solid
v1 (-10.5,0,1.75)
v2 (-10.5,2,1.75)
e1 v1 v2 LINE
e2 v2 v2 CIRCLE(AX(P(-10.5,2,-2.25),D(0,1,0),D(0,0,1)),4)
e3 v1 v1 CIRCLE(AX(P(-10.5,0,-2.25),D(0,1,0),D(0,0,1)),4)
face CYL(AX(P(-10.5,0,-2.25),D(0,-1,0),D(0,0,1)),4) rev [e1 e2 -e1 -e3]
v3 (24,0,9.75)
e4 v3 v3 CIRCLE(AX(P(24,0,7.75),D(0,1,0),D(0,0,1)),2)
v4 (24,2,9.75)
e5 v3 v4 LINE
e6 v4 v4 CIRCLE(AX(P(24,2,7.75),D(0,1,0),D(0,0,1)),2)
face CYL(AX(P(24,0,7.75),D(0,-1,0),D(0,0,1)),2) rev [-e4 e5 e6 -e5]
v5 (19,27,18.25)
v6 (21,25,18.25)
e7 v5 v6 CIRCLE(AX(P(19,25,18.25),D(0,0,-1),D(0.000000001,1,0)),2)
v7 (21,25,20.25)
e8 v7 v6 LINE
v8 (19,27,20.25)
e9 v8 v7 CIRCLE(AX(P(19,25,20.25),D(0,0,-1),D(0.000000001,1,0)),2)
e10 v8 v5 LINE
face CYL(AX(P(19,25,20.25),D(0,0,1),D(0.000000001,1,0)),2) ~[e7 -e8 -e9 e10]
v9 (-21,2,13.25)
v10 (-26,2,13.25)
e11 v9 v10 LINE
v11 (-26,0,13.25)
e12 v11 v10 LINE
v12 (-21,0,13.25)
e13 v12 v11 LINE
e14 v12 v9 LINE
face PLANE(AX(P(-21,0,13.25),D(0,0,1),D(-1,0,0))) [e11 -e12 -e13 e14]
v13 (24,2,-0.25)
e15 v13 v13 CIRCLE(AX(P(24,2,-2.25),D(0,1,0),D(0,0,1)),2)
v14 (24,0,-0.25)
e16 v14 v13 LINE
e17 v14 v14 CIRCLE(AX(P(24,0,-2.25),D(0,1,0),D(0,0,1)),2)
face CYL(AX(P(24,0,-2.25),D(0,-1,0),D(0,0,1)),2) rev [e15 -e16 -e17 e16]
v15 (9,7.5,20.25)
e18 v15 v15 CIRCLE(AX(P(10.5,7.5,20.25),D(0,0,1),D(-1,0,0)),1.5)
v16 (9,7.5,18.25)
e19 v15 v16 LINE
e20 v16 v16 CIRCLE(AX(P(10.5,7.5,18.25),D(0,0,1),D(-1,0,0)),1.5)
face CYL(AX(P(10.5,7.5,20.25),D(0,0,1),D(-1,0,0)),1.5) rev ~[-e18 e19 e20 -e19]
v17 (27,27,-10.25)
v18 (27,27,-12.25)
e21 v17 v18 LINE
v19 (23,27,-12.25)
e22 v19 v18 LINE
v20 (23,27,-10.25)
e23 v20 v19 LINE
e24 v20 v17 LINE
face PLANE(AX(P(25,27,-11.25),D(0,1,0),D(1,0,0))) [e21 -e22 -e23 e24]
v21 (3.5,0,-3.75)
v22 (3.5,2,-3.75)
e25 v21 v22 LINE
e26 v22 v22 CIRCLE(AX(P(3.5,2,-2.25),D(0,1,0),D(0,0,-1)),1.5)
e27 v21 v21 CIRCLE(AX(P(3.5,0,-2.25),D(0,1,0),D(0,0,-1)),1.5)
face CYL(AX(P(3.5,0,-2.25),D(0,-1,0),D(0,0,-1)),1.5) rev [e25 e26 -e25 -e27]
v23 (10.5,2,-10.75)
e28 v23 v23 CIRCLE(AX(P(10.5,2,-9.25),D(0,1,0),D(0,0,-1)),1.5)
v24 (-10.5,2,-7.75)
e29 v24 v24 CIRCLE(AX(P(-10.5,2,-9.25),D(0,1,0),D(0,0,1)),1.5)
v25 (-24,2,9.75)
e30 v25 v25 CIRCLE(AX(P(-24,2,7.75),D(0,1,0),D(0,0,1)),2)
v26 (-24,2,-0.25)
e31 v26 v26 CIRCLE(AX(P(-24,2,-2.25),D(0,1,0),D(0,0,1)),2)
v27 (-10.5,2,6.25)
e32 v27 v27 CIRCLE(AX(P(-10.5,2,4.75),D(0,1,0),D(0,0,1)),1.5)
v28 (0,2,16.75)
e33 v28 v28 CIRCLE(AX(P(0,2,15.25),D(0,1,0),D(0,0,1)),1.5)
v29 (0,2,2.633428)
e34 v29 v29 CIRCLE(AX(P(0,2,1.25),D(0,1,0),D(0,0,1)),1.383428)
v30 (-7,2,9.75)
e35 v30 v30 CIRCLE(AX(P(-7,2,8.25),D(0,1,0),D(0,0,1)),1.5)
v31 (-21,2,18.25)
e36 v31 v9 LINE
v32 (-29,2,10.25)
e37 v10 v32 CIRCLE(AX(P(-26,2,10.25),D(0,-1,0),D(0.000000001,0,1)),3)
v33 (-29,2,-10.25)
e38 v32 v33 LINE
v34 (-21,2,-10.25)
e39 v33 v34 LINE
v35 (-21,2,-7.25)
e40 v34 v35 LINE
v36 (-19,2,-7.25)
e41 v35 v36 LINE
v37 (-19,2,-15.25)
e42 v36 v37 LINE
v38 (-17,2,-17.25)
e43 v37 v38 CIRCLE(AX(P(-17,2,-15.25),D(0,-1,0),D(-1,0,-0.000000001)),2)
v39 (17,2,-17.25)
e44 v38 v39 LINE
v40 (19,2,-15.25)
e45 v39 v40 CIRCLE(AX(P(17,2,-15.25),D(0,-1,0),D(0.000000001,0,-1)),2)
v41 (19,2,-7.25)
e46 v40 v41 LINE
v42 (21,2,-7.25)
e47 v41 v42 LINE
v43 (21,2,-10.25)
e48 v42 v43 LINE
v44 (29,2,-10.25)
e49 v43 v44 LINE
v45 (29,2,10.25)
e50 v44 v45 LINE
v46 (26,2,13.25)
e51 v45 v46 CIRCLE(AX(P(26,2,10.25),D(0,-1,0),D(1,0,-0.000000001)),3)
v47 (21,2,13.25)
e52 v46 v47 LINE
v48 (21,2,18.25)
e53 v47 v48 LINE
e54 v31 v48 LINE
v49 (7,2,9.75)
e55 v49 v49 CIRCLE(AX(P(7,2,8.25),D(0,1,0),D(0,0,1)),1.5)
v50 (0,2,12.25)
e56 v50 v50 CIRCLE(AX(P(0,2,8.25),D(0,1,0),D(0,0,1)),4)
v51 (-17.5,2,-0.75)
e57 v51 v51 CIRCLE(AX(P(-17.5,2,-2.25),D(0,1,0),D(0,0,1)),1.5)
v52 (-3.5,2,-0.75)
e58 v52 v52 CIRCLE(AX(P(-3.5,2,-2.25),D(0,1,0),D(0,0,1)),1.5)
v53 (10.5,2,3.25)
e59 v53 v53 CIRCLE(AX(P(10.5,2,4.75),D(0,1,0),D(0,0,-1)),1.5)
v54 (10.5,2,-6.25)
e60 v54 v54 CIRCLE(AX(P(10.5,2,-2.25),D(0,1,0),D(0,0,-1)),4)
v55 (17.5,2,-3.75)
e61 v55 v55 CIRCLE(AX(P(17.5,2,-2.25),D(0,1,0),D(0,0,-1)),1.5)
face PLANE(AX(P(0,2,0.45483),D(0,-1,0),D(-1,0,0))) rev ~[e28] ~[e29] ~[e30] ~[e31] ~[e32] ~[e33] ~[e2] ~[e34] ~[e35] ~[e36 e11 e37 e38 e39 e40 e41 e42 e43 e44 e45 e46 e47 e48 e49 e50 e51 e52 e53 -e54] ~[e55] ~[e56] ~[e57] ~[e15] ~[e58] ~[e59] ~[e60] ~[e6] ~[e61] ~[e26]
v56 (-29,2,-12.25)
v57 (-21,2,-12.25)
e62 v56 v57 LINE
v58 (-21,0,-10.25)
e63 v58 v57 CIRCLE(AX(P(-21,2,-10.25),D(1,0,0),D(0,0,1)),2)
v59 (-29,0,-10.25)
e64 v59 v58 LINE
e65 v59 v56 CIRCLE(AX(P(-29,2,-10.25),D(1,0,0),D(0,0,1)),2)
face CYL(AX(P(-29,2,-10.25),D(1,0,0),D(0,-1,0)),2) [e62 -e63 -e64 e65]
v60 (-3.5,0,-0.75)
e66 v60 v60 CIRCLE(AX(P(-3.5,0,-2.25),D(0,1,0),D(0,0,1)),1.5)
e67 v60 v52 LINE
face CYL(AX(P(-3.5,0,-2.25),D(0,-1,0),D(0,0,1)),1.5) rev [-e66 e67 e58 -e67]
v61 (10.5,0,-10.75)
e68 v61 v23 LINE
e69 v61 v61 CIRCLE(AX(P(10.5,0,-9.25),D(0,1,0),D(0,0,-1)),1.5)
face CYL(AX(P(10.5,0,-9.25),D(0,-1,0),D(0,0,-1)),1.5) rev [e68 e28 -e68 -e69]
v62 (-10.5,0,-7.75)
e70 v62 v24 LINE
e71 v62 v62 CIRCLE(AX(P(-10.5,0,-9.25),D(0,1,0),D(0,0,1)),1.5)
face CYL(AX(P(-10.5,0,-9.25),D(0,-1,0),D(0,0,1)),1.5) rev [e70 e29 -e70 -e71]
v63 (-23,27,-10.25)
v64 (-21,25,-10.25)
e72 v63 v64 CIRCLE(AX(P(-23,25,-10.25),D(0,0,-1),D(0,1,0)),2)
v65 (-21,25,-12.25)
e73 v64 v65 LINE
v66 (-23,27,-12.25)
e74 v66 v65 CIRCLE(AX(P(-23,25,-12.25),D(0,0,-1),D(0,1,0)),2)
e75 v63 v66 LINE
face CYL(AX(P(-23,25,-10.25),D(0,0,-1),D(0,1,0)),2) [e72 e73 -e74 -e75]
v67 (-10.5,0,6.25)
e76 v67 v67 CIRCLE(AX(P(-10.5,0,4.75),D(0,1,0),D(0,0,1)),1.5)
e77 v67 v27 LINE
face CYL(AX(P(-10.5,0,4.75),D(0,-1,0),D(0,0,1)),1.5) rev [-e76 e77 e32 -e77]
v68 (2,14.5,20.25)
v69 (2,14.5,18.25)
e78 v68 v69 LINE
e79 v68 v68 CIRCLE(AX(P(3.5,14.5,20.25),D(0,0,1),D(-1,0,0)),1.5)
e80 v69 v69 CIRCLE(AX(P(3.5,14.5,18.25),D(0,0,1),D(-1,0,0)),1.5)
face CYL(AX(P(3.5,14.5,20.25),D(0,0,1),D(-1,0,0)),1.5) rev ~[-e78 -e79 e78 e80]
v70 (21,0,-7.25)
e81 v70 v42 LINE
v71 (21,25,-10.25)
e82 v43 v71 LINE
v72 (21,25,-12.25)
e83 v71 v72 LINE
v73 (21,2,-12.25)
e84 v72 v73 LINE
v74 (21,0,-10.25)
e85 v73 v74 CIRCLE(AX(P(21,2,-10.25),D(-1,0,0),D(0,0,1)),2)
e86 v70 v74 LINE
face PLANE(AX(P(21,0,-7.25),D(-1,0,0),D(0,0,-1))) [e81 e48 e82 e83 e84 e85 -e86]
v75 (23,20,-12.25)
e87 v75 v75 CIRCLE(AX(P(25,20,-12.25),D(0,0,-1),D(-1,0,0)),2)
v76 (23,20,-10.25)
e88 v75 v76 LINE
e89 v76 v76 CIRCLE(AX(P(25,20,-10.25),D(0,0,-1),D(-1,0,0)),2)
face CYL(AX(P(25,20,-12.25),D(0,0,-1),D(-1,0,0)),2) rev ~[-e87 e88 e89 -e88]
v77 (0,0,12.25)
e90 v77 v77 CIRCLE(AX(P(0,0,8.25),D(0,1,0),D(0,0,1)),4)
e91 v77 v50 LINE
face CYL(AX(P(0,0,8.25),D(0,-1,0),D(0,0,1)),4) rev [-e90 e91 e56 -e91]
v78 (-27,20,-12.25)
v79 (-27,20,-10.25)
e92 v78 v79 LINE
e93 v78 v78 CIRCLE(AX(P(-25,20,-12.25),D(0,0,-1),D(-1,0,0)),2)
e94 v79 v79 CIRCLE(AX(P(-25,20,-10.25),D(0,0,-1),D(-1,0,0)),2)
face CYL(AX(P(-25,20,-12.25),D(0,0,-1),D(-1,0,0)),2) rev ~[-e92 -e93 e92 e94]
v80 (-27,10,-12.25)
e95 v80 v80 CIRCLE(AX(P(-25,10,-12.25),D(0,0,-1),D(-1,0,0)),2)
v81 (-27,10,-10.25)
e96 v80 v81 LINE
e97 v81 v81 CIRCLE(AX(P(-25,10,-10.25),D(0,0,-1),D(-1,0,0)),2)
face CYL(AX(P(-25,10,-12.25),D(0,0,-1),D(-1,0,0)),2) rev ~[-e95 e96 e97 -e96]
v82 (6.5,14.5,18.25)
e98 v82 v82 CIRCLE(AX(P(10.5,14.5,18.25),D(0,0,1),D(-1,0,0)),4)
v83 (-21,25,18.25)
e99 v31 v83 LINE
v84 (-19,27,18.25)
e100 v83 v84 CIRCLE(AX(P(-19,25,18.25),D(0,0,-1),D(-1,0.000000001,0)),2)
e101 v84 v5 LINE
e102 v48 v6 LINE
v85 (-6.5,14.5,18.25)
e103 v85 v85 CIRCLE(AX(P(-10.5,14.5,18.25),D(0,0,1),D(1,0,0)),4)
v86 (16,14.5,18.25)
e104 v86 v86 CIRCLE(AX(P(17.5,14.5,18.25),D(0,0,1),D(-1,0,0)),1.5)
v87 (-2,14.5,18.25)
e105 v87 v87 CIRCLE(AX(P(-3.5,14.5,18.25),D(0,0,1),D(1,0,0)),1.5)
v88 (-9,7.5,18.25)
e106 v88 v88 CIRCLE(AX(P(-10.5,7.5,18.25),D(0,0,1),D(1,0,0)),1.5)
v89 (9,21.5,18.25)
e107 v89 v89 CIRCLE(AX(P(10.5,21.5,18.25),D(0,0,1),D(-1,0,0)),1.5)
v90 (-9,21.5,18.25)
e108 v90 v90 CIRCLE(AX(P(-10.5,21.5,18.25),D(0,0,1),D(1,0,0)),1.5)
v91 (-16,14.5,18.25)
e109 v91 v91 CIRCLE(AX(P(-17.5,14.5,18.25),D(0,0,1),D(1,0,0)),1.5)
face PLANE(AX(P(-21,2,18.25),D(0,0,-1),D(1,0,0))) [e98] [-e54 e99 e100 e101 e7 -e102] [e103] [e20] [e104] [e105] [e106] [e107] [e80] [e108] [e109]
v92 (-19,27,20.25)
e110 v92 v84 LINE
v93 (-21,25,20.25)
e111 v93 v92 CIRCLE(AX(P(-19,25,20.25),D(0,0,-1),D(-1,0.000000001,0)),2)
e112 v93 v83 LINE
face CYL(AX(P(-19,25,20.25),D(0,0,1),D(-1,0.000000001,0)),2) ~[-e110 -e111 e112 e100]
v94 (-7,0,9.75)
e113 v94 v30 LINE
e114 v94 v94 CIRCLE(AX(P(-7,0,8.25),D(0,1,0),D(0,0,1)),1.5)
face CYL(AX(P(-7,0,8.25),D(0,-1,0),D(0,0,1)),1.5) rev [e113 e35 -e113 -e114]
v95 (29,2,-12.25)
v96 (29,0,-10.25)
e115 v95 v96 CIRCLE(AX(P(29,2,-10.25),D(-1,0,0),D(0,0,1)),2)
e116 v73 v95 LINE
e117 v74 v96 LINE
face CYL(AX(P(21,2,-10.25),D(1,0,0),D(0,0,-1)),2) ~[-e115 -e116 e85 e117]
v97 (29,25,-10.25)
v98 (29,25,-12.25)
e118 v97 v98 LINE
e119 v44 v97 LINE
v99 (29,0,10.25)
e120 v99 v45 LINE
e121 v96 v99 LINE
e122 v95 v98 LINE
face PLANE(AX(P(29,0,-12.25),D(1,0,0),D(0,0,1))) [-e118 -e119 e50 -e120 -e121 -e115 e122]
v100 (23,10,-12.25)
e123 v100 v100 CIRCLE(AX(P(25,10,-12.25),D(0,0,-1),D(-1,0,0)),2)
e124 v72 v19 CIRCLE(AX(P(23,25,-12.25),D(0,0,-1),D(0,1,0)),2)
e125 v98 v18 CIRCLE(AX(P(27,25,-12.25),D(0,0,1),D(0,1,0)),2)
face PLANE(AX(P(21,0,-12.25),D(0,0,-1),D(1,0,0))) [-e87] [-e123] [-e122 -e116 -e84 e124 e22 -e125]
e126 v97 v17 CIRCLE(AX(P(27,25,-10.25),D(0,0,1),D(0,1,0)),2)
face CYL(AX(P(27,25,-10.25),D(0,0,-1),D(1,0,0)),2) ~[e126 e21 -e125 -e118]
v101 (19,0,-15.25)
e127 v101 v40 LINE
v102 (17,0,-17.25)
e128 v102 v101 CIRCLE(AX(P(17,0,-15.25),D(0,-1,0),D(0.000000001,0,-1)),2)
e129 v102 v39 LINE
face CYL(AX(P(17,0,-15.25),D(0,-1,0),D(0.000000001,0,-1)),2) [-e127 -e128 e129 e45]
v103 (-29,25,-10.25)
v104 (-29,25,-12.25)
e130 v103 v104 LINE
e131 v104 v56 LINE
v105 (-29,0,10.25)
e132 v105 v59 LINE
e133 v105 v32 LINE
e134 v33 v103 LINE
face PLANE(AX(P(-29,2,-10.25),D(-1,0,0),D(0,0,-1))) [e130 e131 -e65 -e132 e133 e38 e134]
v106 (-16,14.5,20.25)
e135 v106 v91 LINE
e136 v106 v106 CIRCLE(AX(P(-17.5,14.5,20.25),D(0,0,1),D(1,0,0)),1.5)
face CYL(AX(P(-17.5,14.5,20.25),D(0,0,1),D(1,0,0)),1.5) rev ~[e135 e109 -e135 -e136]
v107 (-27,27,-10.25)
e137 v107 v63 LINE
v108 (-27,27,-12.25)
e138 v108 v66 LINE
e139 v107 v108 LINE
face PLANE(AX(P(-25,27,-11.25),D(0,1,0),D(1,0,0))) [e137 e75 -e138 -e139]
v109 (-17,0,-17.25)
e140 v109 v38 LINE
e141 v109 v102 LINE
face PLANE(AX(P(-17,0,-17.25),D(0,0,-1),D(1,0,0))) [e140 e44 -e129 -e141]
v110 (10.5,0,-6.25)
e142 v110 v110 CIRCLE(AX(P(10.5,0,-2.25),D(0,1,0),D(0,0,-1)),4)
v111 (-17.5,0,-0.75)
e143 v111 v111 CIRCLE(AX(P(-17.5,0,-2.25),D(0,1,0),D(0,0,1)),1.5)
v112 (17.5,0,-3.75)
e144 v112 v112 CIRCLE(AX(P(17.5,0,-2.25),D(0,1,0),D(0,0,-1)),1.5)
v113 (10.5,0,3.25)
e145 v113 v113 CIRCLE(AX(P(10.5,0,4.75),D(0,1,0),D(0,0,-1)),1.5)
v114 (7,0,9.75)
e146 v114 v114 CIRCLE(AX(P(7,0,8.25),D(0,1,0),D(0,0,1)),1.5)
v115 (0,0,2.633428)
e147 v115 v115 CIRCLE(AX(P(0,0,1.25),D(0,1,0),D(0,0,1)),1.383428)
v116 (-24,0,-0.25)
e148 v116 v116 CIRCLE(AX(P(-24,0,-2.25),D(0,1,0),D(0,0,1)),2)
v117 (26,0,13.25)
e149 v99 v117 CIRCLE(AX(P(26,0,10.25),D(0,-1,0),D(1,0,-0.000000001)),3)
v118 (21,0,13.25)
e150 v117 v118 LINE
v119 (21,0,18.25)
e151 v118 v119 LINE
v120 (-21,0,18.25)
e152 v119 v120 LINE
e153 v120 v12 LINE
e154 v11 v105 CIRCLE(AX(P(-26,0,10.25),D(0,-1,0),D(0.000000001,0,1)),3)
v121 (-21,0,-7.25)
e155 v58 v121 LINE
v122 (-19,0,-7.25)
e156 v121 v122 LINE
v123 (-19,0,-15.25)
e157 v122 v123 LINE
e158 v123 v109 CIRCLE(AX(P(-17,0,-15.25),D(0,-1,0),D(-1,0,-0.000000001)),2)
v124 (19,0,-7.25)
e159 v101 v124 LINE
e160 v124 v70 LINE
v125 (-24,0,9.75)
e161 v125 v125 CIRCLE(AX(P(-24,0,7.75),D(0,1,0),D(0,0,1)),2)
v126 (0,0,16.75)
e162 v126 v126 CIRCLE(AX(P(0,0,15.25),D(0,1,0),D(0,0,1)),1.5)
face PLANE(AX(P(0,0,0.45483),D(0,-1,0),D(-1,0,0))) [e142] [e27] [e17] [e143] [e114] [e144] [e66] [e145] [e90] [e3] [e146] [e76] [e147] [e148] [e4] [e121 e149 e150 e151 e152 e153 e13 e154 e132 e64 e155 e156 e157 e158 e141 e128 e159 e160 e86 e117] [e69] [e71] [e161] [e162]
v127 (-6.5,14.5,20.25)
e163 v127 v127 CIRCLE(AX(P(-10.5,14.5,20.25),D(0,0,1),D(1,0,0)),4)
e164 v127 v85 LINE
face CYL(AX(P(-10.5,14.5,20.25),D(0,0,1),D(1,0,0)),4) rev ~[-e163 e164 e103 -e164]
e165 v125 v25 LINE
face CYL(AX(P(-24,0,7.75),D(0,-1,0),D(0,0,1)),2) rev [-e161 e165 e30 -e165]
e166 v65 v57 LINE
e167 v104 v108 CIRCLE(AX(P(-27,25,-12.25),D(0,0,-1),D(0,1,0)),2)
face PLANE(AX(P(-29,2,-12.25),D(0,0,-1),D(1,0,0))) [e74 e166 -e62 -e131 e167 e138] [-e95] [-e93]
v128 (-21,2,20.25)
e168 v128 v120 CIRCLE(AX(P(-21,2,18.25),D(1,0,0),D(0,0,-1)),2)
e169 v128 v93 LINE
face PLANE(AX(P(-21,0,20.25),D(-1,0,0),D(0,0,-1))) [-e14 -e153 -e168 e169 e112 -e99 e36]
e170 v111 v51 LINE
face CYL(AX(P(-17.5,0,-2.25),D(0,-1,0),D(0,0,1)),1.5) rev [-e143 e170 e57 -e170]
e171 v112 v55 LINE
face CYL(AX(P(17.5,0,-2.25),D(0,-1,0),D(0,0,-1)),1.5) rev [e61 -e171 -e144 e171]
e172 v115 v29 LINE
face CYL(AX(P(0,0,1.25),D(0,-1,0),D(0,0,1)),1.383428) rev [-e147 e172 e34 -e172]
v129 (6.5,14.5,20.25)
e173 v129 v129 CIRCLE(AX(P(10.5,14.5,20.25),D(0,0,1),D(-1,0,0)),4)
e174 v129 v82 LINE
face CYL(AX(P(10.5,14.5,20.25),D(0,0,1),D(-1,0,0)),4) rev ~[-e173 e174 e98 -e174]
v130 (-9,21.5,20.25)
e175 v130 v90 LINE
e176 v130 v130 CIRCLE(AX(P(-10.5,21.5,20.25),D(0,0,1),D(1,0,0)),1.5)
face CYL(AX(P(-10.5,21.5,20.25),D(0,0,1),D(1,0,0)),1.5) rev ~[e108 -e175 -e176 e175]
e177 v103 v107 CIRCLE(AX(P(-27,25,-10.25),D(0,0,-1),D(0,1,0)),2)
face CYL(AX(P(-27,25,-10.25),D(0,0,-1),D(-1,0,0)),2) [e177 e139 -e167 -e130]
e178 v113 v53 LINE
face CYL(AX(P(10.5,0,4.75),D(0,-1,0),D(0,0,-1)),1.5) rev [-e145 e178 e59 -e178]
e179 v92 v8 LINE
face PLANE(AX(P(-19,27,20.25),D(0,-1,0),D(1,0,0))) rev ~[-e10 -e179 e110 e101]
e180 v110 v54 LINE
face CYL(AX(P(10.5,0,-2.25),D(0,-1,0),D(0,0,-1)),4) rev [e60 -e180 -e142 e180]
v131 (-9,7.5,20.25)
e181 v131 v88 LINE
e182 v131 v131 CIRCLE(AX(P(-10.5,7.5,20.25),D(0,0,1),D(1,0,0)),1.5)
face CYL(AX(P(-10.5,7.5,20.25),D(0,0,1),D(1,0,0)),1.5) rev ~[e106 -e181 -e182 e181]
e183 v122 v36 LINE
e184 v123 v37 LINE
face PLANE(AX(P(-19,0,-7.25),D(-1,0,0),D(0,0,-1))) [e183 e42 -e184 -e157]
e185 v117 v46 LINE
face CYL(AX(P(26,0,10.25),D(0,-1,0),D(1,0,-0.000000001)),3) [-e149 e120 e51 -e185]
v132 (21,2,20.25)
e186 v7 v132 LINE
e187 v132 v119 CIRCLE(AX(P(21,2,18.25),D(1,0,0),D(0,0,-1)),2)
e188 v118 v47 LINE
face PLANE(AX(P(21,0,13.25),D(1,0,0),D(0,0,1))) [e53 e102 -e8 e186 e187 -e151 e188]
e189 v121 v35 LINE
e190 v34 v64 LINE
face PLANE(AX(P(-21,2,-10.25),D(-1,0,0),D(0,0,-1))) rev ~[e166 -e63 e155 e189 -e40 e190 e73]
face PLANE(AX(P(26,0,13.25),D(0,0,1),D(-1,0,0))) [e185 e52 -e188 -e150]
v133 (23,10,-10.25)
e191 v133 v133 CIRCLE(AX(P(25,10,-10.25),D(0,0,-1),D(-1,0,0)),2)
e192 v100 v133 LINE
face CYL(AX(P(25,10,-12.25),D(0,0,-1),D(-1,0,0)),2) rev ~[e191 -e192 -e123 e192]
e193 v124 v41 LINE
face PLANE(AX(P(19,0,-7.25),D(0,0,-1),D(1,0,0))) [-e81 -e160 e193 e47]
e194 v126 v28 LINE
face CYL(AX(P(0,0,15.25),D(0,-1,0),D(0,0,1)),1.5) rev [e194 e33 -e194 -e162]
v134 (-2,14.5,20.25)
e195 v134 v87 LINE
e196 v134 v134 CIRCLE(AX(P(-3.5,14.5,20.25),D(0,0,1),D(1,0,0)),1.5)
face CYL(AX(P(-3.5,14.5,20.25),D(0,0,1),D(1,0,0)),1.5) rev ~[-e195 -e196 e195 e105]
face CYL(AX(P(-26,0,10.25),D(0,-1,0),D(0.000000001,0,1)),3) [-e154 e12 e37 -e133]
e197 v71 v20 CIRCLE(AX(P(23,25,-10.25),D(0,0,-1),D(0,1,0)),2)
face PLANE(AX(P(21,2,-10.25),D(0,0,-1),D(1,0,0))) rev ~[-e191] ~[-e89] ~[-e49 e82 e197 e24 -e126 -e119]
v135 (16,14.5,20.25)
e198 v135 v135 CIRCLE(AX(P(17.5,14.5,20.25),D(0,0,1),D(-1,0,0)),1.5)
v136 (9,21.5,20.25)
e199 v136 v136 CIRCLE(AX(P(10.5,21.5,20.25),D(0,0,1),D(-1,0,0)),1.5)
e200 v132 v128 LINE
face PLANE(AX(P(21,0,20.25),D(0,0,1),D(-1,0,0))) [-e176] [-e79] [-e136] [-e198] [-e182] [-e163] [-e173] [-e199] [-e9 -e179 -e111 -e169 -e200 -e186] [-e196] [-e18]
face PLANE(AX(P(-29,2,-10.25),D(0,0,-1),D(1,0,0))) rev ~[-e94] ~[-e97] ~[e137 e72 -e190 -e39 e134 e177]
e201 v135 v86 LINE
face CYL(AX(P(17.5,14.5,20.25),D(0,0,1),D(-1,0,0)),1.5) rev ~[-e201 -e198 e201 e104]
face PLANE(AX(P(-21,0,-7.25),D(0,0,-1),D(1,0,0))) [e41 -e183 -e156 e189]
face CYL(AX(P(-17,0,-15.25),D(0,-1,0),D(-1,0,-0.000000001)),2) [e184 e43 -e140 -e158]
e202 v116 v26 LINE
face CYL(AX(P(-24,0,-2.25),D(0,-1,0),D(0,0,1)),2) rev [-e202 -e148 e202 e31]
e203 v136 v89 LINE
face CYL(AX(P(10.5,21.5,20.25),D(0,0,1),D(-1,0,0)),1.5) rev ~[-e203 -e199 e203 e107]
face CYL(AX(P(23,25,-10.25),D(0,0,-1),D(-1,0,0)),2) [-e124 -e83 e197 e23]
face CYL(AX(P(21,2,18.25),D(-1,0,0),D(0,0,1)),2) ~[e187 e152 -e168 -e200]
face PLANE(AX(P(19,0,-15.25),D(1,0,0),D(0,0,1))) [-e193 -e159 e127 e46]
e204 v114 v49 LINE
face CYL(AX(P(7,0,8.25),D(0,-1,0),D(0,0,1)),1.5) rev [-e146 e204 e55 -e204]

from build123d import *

# Parameters (mm, degrees)
SKETCH_1_R          = 4
SKETCH_1_R_2        = 1.383428465
SKETCH_1_R_3        = 1.5
SKETCH_1_R_4        = 2
EXTRUDE_1_DEPTH     = 2
SKETCH_2_W          = 8
SKETCH_2_H          = 2
SKETCH_2_W_2        = 42
EXTRUDE_2_DEPTH     = 25
FILLET_1_R          = 2
SKETCH_3_R          = 4
SKETCH_3_R_2        = 1.5
CUT_EXTRUDE_2_DEPTH = 2
FILLET_2_R          = 2
SKETCH_4_R          = 2
CUT_EXTRUDE_3_DEPTH = 90


with BuildPart() as part:
    # 草图1 → 凸台-拉伸1 (new body)
    with BuildSketch(Plane(origin=(0, 0, 0), x_dir=(1, 0, 0), z_dir=(0, 1, 0))):
        with BuildLine():
            Line((-17, 17.25), (17, 17.25))
            ThreePointArc((17, 17.25), (18.414213562, 16.664213562), (19, 15.25))
            Line((19, 15.25), (19, 7.25))
            Line((19, 7.25), (21, 7.25))
            Line((21, 7.25), (21, 12.25))
            Line((21, 12.25), (29, 12.25))
            Line((29, 12.25), (29, -10.25))
            ThreePointArc((29, -10.25), (28.121320344, -12.371320344), (26, -13.25))
            Line((26, -13.25), (21, -13.25))
            Line((21, -13.25), (21, -20.25))
            Line((21, -20.25), (-21, -20.25))
            Line((-21, -20.25), (-21, -13.25))
            Line((-21, -13.25), (-26, -13.25))
            ThreePointArc((-26, -13.25), (-28.121320344, -12.371320344), (-29, -10.25))
            Line((-29, -10.25), (-29, 12.25))
            Line((-29, 12.25), (-21, 12.25))
            Line((-21, 12.25), (-21, 7.25))
            Line((-21, 7.25), (-19, 7.25))
            Line((-19, 7.25), (-19, 15.25))
            ThreePointArc((-19, 15.25), (-18.414213562, 16.664213562), (-17, 17.25))
        make_face()
        with Locations(Location((0, -8.25, 0), (0, 0, 270))):
            Circle(SKETCH_1_R, mode=Mode.SUBTRACT)
        with Locations(Location((0, -1.25, 0), (0, 0, 270))):
            Circle(SKETCH_1_R_2, mode=Mode.SUBTRACT)
        with Locations(Location((-7, -8.25, 0), (0, 0, 270))):
            Circle(SKETCH_1_R_3, mode=Mode.SUBTRACT)
        with Locations(Location((0, -15.25, 0), (0, 0, 270))):
            Circle(SKETCH_1_R_3, mode=Mode.SUBTRACT)
        with Locations(Location((7, -8.25, 0), (0, 0, 270))):
            Circle(SKETCH_1_R_3, mode=Mode.SUBTRACT)
        with Locations(Location((-10.5, 2.25, 0), (0, 0, 270))):
            Circle(SKETCH_1_R, mode=Mode.SUBTRACT)
        with Locations(Location((-10.5, 9.25, 0), (0, 0, 270))):
            Circle(SKETCH_1_R_3, mode=Mode.SUBTRACT)
        with Locations(Location((-3.5, 2.25, 0), (0, 0, 270))):
            Circle(SKETCH_1_R_3, mode=Mode.SUBTRACT)
        with Locations(Location((-17.5, 2.25, 0), (0, 0, 270))):
            Circle(SKETCH_1_R_3, mode=Mode.SUBTRACT)
        with Locations(Location((-10.5, -4.75, 0), (0, 0, 270))):
            Circle(SKETCH_1_R_3, mode=Mode.SUBTRACT)
        with Locations(Location((10.5, -4.75, 0), (0, 0, 90))):
            Circle(SKETCH_1_R_3, mode=Mode.SUBTRACT)
        with Locations(Location((3.5, 2.25, 0), (0, 0, 90))):
            Circle(SKETCH_1_R_3, mode=Mode.SUBTRACT)
        with Locations(Location((17.5, 2.25, 0), (0, 0, 90))):
            Circle(SKETCH_1_R_3, mode=Mode.SUBTRACT)
        with Locations(Location((10.5, 9.25, 0), (0, 0, 90))):
            Circle(SKETCH_1_R_3, mode=Mode.SUBTRACT)
        with Locations(Location((10.5, 2.25, 0), (0, 0, 90))):
            Circle(SKETCH_1_R, mode=Mode.SUBTRACT)
        with Locations(Location((-24, 2.25, 0), (0, 0, 270))):
            Circle(SKETCH_1_R_4, mode=Mode.SUBTRACT)
        with Locations(Location((24, 2.25, 0), (0, 0, 270))):
            Circle(SKETCH_1_R_4, mode=Mode.SUBTRACT)
        with Locations(Location((-24, -7.75, 0), (0, 0, 270))):
            Circle(SKETCH_1_R_4, mode=Mode.SUBTRACT)
        with Locations(Location((24, -7.75, 0), (0, 0, 270))):
            Circle(SKETCH_1_R_4, mode=Mode.SUBTRACT)
    extrude(amount=EXTRUDE_1_DEPTH)

    # 草图2 → 凸台-拉伸2 (add)
    with BuildSketch(Plane(origin=(0, 2, 0), x_dir=(1, 0, 0), z_dir=(0, 1, 0))):
        with Locations((-25, 11.25)):
            Rectangle(SKETCH_2_W, SKETCH_2_H)
        with Locations((0, -19.25)):
            Rectangle(SKETCH_2_W_2, SKETCH_2_H)
        with Locations((25, 11.25)):
            Rectangle(SKETCH_2_W, SKETCH_2_H)
    extrude(amount=EXTRUDE_2_DEPTH)

    # 圆角1
    fillet_1_edges = [part.edges().sort_by_distance(p)[0] for p in [
        (0, 0, 20.25),
        (-25, 0, -12.25),
        (25, 0, -12.25),
    ]]
    fillet(fillet_1_edges, radius=FILLET_1_R)

    # 草图3 → 切除-拉伸2 (cut)
    with BuildSketch(Plane.XY.offset(20.25)):
        with Locations((-10.5, 14.5)):
            Circle(SKETCH_3_R)
        with Locations((-10.5, 21.5)):
            Circle(SKETCH_3_R_2)
        with Locations((-17.5, 14.5)):
            Circle(SKETCH_3_R_2)
        with Locations((-3.5, 14.5)):
            Circle(SKETCH_3_R_2)
        with Locations((-10.5, 7.5)):
            Circle(SKETCH_3_R_2)
        with Locations(Location((17.5, 14.5, 0), (0, 0, 180))):
            Circle(SKETCH_3_R_2)
        with Locations(Location((10.5, 14.5, 0), (0, 0, 180))):
            Circle(SKETCH_3_R)
        with Locations(Location((3.5, 14.5, 0), (0, 0, 180))):
            Circle(SKETCH_3_R_2)
        with Locations(Location((10.5, 21.5, 0), (0, 0, 180))):
            Circle(SKETCH_3_R_2)
        with Locations(Location((10.5, 7.5, 0), (0, 0, 180))):
            Circle(SKETCH_3_R_2)
        with BuildLine():
            Line((-19, 27), (19, 27))
            ThreePointArc((19, 27), (20.414213562, 26.414213562), (21, 25))
            Line((21, 25), (21, 28.113497729))
            Line((21, 28.113497729), (-21, 28.113497729))
            Line((-21, 28.113497729), (-21, 25))
            ThreePointArc((-21, 25), (-20.414213562, 26.414213562), (-19, 27))
        make_face()
    extrude(amount=-CUT_EXTRUDE_2_DEPTH, mode=Mode.SUBTRACT)

    # 圆角2
    fillet_2_edges = [part.edges().sort_by_distance(p)[0] for p in [
        (-29, 27, -11.25),
        (-21, 27, -11.25),
        (29, 27, -11.25),
        (21, 27, -11.25),
    ]]
    fillet(fillet_2_edges, radius=FILLET_2_R)

    # 草图4 → 切除-拉伸3 (cut)
    with BuildSketch(Plane(origin=(0, 0, -12.25), x_dir=(-1, 0, 0), z_dir=(0, 0, -1))):
        with Locations((-25, 20)):
            Circle(SKETCH_4_R)
        with Locations((-25, 10)):
            Circle(SKETCH_4_R)
        with Locations((25, 20)):
            Circle(SKETCH_4_R)
        with Locations((25, 10)):
            Circle(SKETCH_4_R)
    extrude(amount=-CUT_EXTRUDE_3_DEPTH, mode=Mode.SUBTRACT)


solid = part.part
